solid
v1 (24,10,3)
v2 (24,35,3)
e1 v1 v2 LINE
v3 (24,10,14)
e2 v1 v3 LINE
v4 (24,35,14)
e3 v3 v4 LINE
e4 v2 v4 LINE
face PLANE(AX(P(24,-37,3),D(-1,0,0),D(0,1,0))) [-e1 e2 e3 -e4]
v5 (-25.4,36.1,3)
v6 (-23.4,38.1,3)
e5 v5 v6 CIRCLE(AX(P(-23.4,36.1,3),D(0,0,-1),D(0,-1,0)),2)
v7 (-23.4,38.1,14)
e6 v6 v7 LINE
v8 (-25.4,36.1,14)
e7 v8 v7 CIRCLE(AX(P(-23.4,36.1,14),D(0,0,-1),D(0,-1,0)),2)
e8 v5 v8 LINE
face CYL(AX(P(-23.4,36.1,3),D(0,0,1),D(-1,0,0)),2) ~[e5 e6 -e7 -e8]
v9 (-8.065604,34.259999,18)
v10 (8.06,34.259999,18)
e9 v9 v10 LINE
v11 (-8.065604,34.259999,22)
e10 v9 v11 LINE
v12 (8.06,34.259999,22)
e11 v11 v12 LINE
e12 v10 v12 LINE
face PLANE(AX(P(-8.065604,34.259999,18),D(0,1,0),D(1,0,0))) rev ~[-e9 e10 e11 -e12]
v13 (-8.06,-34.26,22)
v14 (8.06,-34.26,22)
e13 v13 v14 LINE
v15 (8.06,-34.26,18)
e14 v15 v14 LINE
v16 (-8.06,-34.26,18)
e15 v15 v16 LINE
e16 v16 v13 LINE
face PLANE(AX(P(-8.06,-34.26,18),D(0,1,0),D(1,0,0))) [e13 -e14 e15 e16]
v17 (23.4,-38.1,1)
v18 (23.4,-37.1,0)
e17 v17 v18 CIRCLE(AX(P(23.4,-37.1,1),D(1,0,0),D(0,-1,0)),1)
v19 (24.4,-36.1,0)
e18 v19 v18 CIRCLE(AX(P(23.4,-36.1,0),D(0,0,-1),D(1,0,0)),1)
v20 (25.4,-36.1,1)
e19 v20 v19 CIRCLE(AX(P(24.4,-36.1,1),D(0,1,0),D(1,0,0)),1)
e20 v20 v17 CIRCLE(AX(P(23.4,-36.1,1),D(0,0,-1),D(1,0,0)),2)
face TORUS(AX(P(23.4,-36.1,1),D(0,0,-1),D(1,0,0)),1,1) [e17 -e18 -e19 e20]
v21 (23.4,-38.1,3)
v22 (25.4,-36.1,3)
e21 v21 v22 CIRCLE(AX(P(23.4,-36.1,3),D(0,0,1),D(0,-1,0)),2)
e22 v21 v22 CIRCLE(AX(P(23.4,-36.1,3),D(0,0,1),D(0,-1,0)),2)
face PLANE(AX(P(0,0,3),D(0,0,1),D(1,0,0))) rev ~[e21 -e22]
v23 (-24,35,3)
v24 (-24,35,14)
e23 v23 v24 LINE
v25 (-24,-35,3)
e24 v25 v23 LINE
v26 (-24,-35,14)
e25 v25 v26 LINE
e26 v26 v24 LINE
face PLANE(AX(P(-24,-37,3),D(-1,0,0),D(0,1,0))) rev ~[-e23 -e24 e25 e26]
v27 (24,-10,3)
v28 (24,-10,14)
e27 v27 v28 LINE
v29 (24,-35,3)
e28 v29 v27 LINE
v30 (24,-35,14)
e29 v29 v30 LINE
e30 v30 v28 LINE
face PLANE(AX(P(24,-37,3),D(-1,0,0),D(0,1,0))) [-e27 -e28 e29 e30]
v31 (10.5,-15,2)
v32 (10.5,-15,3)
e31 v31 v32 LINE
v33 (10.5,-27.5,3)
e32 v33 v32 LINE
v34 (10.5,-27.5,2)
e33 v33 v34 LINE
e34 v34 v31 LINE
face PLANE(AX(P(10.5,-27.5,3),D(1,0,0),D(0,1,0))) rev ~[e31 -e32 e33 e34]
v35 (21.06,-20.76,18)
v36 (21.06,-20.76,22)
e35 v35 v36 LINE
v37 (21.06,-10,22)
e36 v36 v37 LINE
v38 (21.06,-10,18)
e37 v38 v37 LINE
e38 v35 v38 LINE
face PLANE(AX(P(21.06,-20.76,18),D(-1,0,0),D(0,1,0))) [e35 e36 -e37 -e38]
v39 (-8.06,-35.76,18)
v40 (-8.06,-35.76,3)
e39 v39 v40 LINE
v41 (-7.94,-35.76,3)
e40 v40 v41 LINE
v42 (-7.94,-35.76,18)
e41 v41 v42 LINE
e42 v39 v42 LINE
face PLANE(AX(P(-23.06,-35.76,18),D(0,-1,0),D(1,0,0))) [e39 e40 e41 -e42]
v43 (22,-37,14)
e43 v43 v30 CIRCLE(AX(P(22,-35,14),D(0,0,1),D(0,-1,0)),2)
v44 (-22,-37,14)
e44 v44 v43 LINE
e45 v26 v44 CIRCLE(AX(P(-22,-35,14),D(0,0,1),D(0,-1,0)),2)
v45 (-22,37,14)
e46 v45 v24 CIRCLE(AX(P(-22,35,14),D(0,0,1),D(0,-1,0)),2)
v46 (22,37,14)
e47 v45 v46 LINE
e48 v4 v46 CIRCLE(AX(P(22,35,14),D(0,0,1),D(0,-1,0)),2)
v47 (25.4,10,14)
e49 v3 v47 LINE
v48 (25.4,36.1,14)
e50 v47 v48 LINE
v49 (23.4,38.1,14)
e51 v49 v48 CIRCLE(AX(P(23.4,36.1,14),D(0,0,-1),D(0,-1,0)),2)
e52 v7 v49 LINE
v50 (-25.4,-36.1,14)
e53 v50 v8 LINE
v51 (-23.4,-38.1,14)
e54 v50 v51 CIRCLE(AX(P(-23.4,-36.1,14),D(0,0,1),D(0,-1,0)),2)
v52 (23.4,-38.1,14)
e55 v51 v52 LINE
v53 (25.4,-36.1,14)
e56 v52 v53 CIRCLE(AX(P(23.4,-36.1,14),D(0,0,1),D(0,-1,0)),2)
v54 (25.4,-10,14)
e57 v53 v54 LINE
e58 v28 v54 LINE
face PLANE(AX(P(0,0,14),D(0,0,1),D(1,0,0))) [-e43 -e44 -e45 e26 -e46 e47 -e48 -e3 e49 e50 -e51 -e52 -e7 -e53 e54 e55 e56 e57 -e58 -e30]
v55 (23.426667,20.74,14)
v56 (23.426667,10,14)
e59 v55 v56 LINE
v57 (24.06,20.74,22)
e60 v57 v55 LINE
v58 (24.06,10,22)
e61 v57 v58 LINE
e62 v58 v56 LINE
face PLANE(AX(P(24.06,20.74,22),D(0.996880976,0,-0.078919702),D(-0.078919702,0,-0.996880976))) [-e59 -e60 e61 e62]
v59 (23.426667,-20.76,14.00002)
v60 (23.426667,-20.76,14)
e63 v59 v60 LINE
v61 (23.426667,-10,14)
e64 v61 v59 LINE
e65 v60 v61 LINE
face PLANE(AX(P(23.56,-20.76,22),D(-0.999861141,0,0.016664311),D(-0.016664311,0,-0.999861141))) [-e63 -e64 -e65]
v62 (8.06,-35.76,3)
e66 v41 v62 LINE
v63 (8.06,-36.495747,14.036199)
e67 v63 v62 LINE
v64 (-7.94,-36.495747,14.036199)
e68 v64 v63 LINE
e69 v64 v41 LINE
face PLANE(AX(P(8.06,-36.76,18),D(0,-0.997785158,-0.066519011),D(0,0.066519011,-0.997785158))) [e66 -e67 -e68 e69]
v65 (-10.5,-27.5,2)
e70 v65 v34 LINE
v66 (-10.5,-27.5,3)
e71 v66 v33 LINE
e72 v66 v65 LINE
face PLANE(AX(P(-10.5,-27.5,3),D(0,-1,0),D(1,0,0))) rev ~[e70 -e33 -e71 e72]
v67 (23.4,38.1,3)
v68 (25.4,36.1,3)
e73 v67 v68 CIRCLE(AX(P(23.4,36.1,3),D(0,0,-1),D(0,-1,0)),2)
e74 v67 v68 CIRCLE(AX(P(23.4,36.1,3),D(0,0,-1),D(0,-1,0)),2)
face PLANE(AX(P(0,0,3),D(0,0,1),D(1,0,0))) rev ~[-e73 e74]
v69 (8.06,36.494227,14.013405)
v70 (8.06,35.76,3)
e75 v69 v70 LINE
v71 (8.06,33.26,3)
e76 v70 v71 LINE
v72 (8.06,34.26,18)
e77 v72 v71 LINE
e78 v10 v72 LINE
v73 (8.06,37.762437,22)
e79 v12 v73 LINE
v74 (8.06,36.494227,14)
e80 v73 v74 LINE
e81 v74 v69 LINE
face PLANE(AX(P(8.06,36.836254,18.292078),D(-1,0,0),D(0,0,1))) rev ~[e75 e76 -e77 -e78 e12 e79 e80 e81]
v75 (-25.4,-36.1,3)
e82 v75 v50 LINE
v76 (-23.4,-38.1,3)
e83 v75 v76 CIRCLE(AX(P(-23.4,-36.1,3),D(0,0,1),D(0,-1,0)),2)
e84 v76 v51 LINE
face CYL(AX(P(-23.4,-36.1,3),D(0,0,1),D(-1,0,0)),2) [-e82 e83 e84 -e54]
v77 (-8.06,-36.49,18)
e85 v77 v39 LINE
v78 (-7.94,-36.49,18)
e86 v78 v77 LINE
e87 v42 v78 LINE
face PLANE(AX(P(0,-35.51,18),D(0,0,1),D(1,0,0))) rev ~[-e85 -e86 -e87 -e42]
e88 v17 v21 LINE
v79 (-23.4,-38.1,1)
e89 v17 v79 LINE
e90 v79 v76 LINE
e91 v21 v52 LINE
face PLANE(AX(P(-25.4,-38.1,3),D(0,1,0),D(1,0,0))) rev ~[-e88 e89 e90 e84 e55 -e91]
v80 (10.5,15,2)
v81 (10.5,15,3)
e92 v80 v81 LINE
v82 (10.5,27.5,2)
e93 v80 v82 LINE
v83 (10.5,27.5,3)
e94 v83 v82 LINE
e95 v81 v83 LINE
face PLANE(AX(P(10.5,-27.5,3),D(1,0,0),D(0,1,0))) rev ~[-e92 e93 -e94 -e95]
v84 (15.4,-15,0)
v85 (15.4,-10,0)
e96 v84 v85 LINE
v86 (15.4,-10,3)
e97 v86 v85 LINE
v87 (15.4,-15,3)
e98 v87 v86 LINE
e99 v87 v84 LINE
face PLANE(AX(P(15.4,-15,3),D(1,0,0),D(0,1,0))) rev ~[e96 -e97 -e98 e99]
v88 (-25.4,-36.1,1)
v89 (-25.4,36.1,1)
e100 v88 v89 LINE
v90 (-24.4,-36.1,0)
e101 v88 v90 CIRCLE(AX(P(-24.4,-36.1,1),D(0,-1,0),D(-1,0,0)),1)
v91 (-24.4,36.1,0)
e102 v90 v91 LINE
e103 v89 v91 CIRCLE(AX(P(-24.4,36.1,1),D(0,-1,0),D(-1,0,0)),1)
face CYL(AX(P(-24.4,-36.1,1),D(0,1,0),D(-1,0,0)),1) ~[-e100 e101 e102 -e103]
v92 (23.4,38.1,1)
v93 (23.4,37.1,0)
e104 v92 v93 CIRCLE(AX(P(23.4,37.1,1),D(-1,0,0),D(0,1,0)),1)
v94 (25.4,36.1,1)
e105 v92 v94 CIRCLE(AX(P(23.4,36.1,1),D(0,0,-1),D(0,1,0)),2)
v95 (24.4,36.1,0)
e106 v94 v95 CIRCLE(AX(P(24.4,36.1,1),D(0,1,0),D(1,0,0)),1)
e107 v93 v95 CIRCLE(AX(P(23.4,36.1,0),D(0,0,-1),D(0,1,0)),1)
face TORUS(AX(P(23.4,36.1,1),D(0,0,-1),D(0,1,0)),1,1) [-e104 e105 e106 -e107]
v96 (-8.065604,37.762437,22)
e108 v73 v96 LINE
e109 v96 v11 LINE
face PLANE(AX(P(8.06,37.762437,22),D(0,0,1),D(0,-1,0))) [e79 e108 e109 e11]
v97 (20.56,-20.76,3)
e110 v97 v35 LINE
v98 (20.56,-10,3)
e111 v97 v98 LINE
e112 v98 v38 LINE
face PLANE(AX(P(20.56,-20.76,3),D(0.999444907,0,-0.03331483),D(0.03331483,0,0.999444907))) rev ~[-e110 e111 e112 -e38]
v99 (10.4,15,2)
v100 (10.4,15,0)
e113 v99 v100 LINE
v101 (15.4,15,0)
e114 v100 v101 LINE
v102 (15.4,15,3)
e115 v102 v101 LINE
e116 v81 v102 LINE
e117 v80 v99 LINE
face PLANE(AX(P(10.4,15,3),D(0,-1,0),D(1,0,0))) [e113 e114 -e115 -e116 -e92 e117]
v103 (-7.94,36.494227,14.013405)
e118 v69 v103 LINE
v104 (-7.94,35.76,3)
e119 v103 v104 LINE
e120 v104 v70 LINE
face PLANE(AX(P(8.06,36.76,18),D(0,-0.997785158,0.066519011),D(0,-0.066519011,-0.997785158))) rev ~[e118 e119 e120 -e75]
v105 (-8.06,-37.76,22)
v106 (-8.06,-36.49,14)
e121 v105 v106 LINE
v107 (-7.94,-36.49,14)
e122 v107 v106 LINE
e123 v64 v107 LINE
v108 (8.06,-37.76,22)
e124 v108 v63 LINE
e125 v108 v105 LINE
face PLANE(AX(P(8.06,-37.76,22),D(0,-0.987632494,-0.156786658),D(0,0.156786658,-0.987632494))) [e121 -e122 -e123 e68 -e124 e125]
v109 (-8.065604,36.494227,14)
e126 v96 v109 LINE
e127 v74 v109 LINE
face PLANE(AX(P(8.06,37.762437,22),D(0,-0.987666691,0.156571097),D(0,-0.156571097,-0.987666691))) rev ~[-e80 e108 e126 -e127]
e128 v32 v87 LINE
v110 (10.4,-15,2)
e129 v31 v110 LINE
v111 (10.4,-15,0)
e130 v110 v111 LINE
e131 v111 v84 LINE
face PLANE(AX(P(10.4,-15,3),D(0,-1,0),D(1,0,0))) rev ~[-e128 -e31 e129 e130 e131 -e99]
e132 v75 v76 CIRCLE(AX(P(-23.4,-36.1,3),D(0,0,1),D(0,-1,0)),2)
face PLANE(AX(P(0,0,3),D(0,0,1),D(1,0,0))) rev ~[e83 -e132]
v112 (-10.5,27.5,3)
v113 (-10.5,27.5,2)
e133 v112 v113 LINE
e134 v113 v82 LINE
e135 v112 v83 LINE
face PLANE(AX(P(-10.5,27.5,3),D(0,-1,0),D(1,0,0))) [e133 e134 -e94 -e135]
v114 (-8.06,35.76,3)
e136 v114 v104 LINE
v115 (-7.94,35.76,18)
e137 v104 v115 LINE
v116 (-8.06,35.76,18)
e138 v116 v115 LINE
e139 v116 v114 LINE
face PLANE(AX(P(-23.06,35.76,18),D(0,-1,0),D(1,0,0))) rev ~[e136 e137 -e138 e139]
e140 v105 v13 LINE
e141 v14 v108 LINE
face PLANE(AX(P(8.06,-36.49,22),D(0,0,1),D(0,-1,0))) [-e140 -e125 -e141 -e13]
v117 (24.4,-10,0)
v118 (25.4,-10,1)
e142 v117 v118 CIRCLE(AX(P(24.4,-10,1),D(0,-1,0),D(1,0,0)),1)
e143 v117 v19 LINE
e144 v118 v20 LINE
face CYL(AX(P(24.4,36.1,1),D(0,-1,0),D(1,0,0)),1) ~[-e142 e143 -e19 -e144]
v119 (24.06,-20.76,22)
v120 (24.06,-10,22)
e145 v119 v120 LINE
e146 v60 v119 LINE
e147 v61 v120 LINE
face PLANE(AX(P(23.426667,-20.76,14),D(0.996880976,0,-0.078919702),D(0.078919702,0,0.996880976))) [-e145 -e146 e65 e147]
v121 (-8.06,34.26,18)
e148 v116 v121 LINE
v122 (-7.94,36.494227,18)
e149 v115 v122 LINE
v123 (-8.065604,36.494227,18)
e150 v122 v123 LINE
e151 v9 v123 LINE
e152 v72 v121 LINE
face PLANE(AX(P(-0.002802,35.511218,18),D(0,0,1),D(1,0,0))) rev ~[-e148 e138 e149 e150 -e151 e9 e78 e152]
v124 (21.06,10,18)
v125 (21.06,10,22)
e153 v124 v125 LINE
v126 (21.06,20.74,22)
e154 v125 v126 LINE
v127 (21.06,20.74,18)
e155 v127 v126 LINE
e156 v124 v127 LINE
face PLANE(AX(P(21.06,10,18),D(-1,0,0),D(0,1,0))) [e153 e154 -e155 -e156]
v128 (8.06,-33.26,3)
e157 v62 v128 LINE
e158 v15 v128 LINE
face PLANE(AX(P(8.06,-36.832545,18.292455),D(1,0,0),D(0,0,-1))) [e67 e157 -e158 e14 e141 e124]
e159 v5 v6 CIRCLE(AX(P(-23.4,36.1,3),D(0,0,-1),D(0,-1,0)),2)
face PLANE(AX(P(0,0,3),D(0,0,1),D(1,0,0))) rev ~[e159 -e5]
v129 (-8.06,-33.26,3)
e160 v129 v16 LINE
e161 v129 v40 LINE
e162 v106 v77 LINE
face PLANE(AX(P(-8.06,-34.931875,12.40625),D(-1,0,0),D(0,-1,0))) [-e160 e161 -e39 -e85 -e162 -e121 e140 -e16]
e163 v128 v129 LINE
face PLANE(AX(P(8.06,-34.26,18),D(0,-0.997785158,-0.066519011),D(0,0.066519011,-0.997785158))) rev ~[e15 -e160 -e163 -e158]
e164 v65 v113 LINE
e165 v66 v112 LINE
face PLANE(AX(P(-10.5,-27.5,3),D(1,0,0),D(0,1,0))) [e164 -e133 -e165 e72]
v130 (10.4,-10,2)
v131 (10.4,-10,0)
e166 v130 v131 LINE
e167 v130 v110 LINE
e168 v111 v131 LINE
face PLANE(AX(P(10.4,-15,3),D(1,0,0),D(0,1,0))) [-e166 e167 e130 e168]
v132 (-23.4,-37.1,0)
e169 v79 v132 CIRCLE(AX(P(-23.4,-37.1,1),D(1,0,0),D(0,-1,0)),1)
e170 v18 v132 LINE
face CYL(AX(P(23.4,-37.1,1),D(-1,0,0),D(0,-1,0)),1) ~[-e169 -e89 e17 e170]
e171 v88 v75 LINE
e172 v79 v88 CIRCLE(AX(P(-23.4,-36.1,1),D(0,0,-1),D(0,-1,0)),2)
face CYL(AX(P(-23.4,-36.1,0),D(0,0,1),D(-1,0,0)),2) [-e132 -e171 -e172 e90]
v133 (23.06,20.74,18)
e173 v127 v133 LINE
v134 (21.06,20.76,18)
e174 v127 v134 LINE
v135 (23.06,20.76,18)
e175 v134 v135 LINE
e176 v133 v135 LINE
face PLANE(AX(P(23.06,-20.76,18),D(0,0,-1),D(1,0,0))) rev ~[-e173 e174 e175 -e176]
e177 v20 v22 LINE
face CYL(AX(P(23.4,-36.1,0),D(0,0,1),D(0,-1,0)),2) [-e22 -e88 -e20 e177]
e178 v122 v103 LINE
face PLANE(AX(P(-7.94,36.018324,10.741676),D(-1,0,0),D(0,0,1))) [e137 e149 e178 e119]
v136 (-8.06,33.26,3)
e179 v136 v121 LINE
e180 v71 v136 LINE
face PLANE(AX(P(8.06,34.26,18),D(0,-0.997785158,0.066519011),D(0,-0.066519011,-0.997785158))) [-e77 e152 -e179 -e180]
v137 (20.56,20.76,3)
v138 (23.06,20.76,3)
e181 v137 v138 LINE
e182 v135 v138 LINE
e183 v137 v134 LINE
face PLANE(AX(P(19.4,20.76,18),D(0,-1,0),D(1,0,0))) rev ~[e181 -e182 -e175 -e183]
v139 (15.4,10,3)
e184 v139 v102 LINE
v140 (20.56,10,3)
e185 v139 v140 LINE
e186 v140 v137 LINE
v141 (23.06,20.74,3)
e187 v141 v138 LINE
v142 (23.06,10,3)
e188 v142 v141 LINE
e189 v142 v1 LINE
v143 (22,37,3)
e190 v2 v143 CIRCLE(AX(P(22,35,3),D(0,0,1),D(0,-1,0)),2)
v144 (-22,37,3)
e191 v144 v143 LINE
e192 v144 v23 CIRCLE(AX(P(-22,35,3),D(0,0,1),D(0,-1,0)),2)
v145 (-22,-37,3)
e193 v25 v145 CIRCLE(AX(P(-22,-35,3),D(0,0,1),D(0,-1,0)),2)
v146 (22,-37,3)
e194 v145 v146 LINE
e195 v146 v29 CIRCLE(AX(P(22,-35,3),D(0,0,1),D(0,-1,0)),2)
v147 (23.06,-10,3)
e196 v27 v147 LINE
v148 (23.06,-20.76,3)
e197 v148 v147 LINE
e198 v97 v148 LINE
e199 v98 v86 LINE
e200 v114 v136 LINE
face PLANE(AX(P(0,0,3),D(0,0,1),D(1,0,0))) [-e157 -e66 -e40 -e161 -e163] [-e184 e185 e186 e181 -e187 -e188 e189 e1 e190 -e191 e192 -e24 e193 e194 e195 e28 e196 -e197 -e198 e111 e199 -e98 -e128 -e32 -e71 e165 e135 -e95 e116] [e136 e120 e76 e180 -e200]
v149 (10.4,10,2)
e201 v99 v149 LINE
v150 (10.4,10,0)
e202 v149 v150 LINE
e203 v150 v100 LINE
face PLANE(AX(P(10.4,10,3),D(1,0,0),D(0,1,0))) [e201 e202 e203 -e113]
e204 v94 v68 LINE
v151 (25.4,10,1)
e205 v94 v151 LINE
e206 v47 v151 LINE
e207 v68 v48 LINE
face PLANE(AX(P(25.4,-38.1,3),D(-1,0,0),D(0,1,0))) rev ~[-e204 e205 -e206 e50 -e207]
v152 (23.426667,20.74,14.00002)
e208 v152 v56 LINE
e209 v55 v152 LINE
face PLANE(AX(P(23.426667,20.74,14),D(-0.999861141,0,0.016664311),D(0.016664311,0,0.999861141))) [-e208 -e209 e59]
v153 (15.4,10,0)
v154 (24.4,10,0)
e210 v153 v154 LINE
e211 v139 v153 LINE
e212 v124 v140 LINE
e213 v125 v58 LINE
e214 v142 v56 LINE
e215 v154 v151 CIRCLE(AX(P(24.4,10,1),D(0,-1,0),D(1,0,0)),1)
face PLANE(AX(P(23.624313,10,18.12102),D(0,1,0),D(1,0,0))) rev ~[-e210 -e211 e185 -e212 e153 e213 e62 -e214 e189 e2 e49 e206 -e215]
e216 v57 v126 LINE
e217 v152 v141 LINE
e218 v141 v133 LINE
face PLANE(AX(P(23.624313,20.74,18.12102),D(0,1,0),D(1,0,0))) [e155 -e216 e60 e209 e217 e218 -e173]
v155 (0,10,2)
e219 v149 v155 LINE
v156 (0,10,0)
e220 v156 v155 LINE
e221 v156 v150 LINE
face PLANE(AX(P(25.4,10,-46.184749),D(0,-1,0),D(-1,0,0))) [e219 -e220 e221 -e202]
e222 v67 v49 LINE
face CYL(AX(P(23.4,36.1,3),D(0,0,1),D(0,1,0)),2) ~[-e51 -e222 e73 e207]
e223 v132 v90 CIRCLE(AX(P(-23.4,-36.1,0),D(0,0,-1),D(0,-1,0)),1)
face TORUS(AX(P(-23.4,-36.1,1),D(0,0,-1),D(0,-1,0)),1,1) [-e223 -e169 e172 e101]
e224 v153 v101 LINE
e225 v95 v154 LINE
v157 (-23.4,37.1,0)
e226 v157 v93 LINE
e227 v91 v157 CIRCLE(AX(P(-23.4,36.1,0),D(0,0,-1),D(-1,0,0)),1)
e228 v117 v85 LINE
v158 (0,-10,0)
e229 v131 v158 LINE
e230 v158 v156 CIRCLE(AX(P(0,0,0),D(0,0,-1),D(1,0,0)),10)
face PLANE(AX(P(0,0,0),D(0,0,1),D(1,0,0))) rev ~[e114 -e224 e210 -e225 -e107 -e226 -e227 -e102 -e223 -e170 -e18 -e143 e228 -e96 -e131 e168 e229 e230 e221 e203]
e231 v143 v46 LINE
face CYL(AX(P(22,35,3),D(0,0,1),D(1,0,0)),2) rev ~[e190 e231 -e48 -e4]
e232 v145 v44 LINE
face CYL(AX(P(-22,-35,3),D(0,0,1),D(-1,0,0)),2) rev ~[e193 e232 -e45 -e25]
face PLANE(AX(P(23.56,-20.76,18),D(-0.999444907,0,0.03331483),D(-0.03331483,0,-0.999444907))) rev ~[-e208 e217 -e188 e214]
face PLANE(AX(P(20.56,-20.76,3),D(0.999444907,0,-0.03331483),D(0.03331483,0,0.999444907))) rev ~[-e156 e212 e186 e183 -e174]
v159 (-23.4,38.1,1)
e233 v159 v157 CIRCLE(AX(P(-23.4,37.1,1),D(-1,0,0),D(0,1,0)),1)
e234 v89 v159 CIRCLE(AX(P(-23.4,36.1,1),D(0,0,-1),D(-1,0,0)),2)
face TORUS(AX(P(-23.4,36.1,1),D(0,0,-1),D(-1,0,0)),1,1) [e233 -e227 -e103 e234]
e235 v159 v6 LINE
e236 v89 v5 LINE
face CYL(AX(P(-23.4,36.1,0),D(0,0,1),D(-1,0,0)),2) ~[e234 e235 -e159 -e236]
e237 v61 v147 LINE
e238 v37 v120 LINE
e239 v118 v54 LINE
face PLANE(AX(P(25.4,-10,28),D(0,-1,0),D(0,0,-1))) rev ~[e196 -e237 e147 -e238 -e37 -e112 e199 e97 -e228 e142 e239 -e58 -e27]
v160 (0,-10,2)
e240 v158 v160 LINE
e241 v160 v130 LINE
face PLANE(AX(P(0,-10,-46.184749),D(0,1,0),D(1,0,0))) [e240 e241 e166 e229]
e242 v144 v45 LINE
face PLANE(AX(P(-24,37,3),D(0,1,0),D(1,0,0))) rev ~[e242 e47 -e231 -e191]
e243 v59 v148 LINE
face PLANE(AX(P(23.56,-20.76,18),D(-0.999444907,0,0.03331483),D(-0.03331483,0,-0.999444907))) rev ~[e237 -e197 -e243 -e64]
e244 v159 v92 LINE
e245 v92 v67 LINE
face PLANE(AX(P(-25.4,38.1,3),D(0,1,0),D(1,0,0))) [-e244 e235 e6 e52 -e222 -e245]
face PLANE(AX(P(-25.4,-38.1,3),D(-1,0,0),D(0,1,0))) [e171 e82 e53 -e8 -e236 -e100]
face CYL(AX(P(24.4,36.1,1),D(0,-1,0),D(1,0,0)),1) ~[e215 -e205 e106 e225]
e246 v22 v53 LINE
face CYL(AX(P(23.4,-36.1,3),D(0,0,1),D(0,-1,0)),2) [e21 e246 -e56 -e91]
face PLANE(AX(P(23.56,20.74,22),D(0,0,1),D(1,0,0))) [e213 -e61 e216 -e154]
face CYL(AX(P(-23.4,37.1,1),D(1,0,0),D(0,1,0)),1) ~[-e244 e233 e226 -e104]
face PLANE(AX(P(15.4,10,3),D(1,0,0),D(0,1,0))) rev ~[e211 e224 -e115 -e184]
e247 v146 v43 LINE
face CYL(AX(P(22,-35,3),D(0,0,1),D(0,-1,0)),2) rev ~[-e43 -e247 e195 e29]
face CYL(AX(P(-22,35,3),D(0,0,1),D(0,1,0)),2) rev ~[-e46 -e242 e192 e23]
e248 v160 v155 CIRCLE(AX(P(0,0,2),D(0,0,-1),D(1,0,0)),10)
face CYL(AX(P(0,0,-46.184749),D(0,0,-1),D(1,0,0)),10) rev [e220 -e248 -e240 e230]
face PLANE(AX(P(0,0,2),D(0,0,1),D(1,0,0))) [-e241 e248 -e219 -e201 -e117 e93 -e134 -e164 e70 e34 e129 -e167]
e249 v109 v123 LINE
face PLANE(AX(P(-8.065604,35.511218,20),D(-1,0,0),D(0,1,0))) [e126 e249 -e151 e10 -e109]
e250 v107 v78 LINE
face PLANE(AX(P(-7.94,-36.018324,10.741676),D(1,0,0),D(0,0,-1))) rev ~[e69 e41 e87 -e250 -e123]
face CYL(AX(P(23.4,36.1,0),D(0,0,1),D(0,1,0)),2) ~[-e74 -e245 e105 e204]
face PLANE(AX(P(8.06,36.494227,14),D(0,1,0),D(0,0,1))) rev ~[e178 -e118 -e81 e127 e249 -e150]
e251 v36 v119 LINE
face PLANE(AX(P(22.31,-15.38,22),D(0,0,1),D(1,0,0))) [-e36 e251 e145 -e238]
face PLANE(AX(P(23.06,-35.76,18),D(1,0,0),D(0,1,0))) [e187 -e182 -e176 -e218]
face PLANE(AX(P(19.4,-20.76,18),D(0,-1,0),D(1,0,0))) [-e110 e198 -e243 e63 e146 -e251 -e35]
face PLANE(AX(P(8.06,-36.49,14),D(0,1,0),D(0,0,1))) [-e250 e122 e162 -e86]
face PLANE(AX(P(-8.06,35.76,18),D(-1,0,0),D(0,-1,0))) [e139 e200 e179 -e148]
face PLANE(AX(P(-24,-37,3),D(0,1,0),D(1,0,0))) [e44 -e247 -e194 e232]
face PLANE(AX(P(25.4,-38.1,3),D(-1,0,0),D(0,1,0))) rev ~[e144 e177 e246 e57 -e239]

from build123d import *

# Parameters (mm, degrees)
CROQUIS1_W                  = 50.8
CROQUIS1_H                  = 76.2
SALIENTE_EXTRUIR1_DEPTH     = 18
CROQUIS2_W                  = 50.8
CROQUIS2_H                  = 76.2
CROQUIS2_W_2                = 46.12
CROQUIS2_H_2                = 71.52
CROQUIS2_W_3                = 38.8
CROQUIS2_H_3                = 64.2
CORTAR_EXTRUIR1_DEPTH       = 15
CORTAR_EXTRUIR8_DEPTH       = 15
SALIENTE_EXTRUIR3_DEPTH     = 41.5
CORTAR_EXTRUIR9_DEPTH       = 51.5
CORTAR_EXTRUIR10_DEPTH      = 51.5
SALIENTE_EXTRUIR4_DEPTH     = 16
CORTAR_EXTRUIR11_DEPTH      = 16.5
REDONDEO3_R                 = 2
REDONDEO4_R                 = 1
CROQUIS15_W                 = 47.12
CROQUIS15_H                 = 10
CORTAR_EXTRUIR12_DEPTH      = 15
CORTAR_EXTRUIR16_DEPTH      = 49.184749
CORTAR_EXTRUIR16_DEPTH_BACK = 49.184749
CROQUIS18_R                 = 10
CROQUIS18_W                 = 2.5
CROQUIS18_H                 = 4.99
CROQUIS18_H_2               = 5.01
CROQUIS19_W                 = 5
CROQUIS19_H                 = 5
CORTAR_EXTRUIR17_DEPTH      = 49.184749
CROQUIS20_W                 = 50.8
CROQUIS20_H                 = 76.2
CROQUIS20_W_2               = 48
CROQUIS20_H_2               = 74
SALIENTE_EXTRUIR5_DEPTH     = 11
CROQUIS21_W                 = 25
CROQUIS21_H                 = 20
CORTAR_EXTRUIR18_DEPTH      = 10
CROQUIS22_W                 = 21
CROQUIS22_H                 = 55
CORTAR_EXTRUIR19_DEPTH      = 1
REDONDEO5_R                 = 2
CROQUIS23_W                 = 2.5
CROQUIS23_H                 = 15.754868
CROQUIS23_H_2               = 15.75
CROQUIS23_H_3               = 10.74
CROQUIS23_W_2               = 16.125604
CROQUIS23_H_4               = 2.502437
CROQUIS23_W_3               = 16.12
CROQUIS23_H_5               = 2.5
CROQUIS23_H_6               = 10.76
SALIENTE_EXTRUIR6_DEPTH     = 4
CROQUIS24_W                 = 3
CROQUIS24_H                 = 15.77
CROQUIS24_H_2               = 15.75
CORTAR_EXTRUIR20_DEPTH      = 19
SALIENTE_EXTRUIR7_DEPTH     = 10.74
SALIENTE_EXTRUIR8_DEPTH     = 10.76
SALIENTE_EXTRUIR9_REACH     = 57.274
SALIENTE_EXTRUIR10_REACH    = 57.274


with BuildPart() as part:
    # Croquis1 → Saliente-Extruir1 (new body)
    with BuildSketch(Plane.XY):
        Rectangle(CROQUIS1_W, CROQUIS1_H)
    extrude(amount=SALIENTE_EXTRUIR1_DEPTH)

    # Croquis2 → Cortar-Extruir1 (cut)
    # profile 1 of 2: a face of its own
    with BuildSketch(Plane.XY.offset(18)):
        Rectangle(CROQUIS2_W, CROQUIS2_H)
        Rectangle(CROQUIS2_W_2, CROQUIS2_H_2, mode=Mode.SUBTRACT)
    # profile 2 of 2: a face of its own
    with BuildSketch(Plane.XY.offset(18)):
        Rectangle(CROQUIS2_W_3, CROQUIS2_H_3)
    extrude(amount=-CORTAR_EXTRUIR1_DEPTH, mode=Mode.SUBTRACT)

    # Croquis6 → Cortar-Extruir8 (cut)
    with BuildSketch(Plane.XY.offset(18)):
        Polygon((-23.06, 35.76), (-8.06, 35.76), (-8.06, 32.1), (-19.4, 32.1), (-19.4, 20.76), (-23.06, 20.76), align=None)
        Polygon((23.06, 35.76), (8.06, 35.76), (8.06, 32.1), (19.4, 32.1), (19.4, 20.76), (23.06, 20.76), align=None)
        Polygon((-23.06, -35.76), (-23.06, -20.76), (-19.4, -20.76), (-19.4, -32.1), (-8.06, -32.1), (-8.06, -35.76), align=None)
        Polygon((23.06, -35.76), (8.06, -35.76), (8.06, -32.1), (19.4, -32.1), (19.4, -20.76), (23.06, -20.76), align=None)
    extrude(amount=-CORTAR_EXTRUIR8_DEPTH, mode=Mode.SUBTRACT)

    # Croquis10 → Saliente-Extruir3 (add)
    with BuildSketch(Plane(origin=(0, -20.76, 0), x_dir=(-1, 0, 0), z_dir=(0, -1, 0))):
        Polygon((23.06, -18), (23.56, -18), (23.06, -3), align=None)
        Polygon((-23.06, -18), (-23.56, -18), (-23.06, -3), align=None)
    extrude(amount=-SALIENTE_EXTRUIR3_DEPTH)

    # Croquis11 → Cortar-Extruir9 (cut)
    with BuildSketch(Plane.XZ.offset(20.76)):
        Polygon((-19.4, 18), (-21.06, 18), (-20.56, 3), (-19.4, 3), align=None)
    extrude(amount=-CORTAR_EXTRUIR9_DEPTH, mode=Mode.SUBTRACT)

    # Croquis12 → Cortar-Extruir10 (cut)
    with BuildSketch(Plane.XZ.offset(20.76)):
        Polygon((19.4, 18), (19.4, 3), (20.56, 3), (21.06, 18), align=None)
    extrude(amount=-CORTAR_EXTRUIR10_DEPTH, mode=Mode.SUBTRACT)

    # Croquis13 → Saliente-Extruir4 (add)
    with BuildSketch(Plane(origin=(8.06, 0, 0), x_dir=(0, 0, -1), z_dir=(1, 0, 0))):
        Polygon((-18, -35.76), (-18, -36.76), (-3, -35.76), align=None)
        Polygon((-18, 35.76), (-18, 36.76), (-3, 35.76), align=None)
    extrude(amount=-SALIENTE_EXTRUIR4_DEPTH)

    # Croquis14 → Cortar-Extruir11 (cut)
    with BuildSketch(Plane(origin=(8.06, 0, 0), x_dir=(0, 0, -1), z_dir=(1, 0, 0))):
        Polygon((-3, -32.1), (-18, -32.1), (-18, -34.26), (-3, -33.26), align=None)
        Polygon((-18, 32.1), (-18, 34.26), (-3, 33.26), (-3, 32.1), align=None)
    extrude(amount=-CORTAR_EXTRUIR11_DEPTH, mode=Mode.SUBTRACT)

    # Redondeo3
    redondeo3_edges = [part.edges().sort_by_distance(p)[0] for p in [
        (-25.4, 38.1, 1.5),
        (25.4, 38.1, 1.5),
        (25.4, -38.1, 1.5),
        (-25.4, -38.1, 1.5),
    ]]
    fillet(redondeo3_edges, radius=REDONDEO3_R)

    # Redondeo4
    redondeo4_edges = [part.edges().sort_by_distance(p)[0] for p in [
        (0, 38.1, 0),
        (-25.4, 0, 0),
        (25.4, 0, 0),
        (0, -38.1, 0),
        (24.814214, -37.514214, 0),
        (-24.814214, -37.514214, 0),
        (-24.814214, 37.514214, 0),
        (24.814214, 37.514214, 0),
    ]]
    fillet(redondeo4_edges, radius=REDONDEO4_R)

    # Croquis15 → Cortar-Extruir12 (cut)
    with BuildSketch(Plane.XY.offset(18)):
        with Locations((0, -0.01)):
            Rectangle(CROQUIS15_W, CROQUIS15_H)
    extrude(amount=-CORTAR_EXTRUIR12_DEPTH, mode=Mode.SUBTRACT)

    # Croquis18 → Cortar-Extruir16 (cut, two sides: drawn at the far end of the back side and taken through both)
    with BuildSketch(Plane.XY.offset(3).offset(-CORTAR_EXTRUIR16_DEPTH_BACK)):
        Circle(CROQUIS18_R)
        with Locations((21.81, -7.505)):
            Rectangle(CROQUIS18_W, CROQUIS18_H)
        with Locations((21.81, 7.495)):
            Rectangle(CROQUIS18_W, CROQUIS18_H_2)
        with BuildLine():
            Line((20.56, 10), (0, 10))
            ThreePointArc((0, 10), (7.071068, 7.071068), (10, 0))
            ThreePointArc((10, 0), (7.071068, -7.071068), (0, -10))
            Line((0, -10), (20.56, -10))
            Line((20.56, -10), (20.56, -5.01))
            Line((20.56, -5.01), (23.06, -5.01))
            Line((23.06, -5.01), (23.06, -10))
            Line((23.06, -10), (25.4, -10))
            Line((25.4, -10), (25.4, 10))
            Line((25.4, 10), (23.06, 10))
            Line((23.06, 10), (23.06, 4.99))
            Line((23.06, 4.99), (20.56, 4.99))
            Line((20.56, 4.99), (20.56, 10))
        make_face()
    extrude(amount=CORTAR_EXTRUIR16_DEPTH + CORTAR_EXTRUIR16_DEPTH_BACK, mode=Mode.SUBTRACT)

    # Croquis19 → Cortar-Extruir17 (cut, through all)
    with BuildSketch(Plane.XY.offset(3)):
        with Locations((12.9, 12.5)):
            Rectangle(CROQUIS19_W, CROQUIS19_H)
        with Locations((12.9, -12.5)):
            Rectangle(CROQUIS19_W, CROQUIS19_H)
    extrude(amount=-CORTAR_EXTRUIR17_DEPTH, mode=Mode.SUBTRACT)

    # Croquis20 → Saliente-Extruir5 (add)
    with BuildSketch(Plane.XY.offset(3)):
        Rectangle(CROQUIS20_W, CROQUIS20_H)
        Rectangle(CROQUIS20_W_2, CROQUIS20_H_2, mode=Mode.SUBTRACT)
    extrude(amount=SALIENTE_EXTRUIR5_DEPTH)

    # Croquis21 → Cortar-Extruir18 (cut)
    with BuildSketch(Plane(origin=(25.4, 0, 0), x_dir=(0, 0, -1), z_dir=(1, 0, 0))):
        with Locations((-15.5, 0)):
            Rectangle(CROQUIS21_W, CROQUIS21_H)
    extrude(amount=-CORTAR_EXTRUIR18_DEPTH, mode=Mode.SUBTRACT)

    # Croquis22 → Cortar-Extruir19 (cut)
    with BuildSketch(Plane.XY.offset(3)):
        Rectangle(CROQUIS22_W, CROQUIS22_H)
    extrude(amount=-CORTAR_EXTRUIR19_DEPTH, mode=Mode.SUBTRACT)

    # Redondeo5
    redondeo5_edges = [part.edges().sort_by_distance(p)[0] for p in [
        (25.4, -38.1, 8.5),
        (-25.4, -38.1, 8.5),
        (-25.4, 38.1, 8.5),
        (25.4, 38.1, 8.5),
        (-24, 37, 8.5),
        (-24, -37, 8.5),
        (24, -37, 8.5),
        (24, 37, 8.5),
    ]]
    fillet(redondeo5_edges, radius=REDONDEO5_R)

    # Croquis23 → Saliente-Extruir6 (add)
    with BuildSketch(Plane.XY.offset(18)):
        with Locations((-22.31, 12.882566)):
            Rectangle(CROQUIS23_W, CROQUIS23_H)
        with Locations((-22.31, -12.885)):
            Rectangle(CROQUIS23_W, CROQUIS23_H_2)
        with Locations((22.31, 15.37)):
            Rectangle(CROQUIS23_W, CROQUIS23_H_3)
        with Locations((-0.002802, 35.511218)):
            Rectangle(CROQUIS23_W_2, CROQUIS23_H_4)
        with Locations((0, -35.51)):
            Rectangle(CROQUIS23_W_3, CROQUIS23_H_5)
        with Locations((22.31, -15.38)):
            Rectangle(CROQUIS23_W, CROQUIS23_H_6)
    extrude(amount=SALIENTE_EXTRUIR6_DEPTH)

    # Croquis24 → Cortar-Extruir20 (cut)
    with BuildSketch(Plane.XY.offset(22)):
        with Locations((-22.06, 12.875)):
            Rectangle(CROQUIS24_W, CROQUIS24_H)
        with Locations((-22.06, -12.885)):
            Rectangle(CROQUIS24_W, CROQUIS24_H_2)
    extrude(amount=-CORTAR_EXTRUIR20_DEPTH, mode=Mode.SUBTRACT)

    # Croquis25 → Saliente-Extruir7 (add)
    with BuildSketch(Plane(origin=(0, 20.74, 0), x_dir=(1, 0, 0), z_dir=(0, 1, 0))):
        Polygon((23.56, -22), (24.06, -22), (23.426667, -14), align=None)
    extrude(amount=-SALIENTE_EXTRUIR7_DEPTH)

    # Croquis26 → Saliente-Extruir8 (add)
    with BuildSketch(Plane.XZ.offset(20.76)):
        Polygon((23.56, 22), (23.426667, 14), (24.06, 22), align=None)
    extrude(amount=-SALIENTE_EXTRUIR8_DEPTH)

    # Saliente-Extruir9: up to this face of the body (flat: up to its plane)
    saliente_extruir9_end = Plane(part.part.faces().sort_by_distance((-8.065604, 35.511219, 20))[0])
    # Croquis27 → Saliente-Extruir9 (add, up to the picked face)
    with BuildSketch(Plane(origin=(8.06, 0, 0), x_dir=(0, 0, -1), z_dir=(1, 0, 0)), mode=Mode.PRIVATE) as saliente_extruir9_sk1:
        Polygon((-22, 36.762437), (-22, 37.762437), (-14, 36.494227), (-22, 36.494227), align=None)
    saliente_extruir9_tool1 = split(extrude(saliente_extruir9_sk1.sketch, amount=-SALIENTE_EXTRUIR9_REACH, mode=Mode.PRIVATE), bisect_by=saliente_extruir9_end, keep=Keep.BOTH, mode=Mode.PRIVATE)
    add(saliente_extruir9_tool1.solids().sort_by(Axis((8.06, 36.916964, 19.333333), (-1, 0, 0)))[0])

    # Saliente-Extruir10: up to this face of the body (flat: up to its plane)
    saliente_extruir10_end = Plane(part.part.faces().sort_by_distance((-8.06, -34.931875, 12.40625))[0])
    # Croquis28 → Saliente-Extruir10 (add, up to the picked face)
    with BuildSketch(Plane(origin=(8.06, 0, 0), x_dir=(0, 0, -1), z_dir=(1, 0, 0)), mode=Mode.PRIVATE) as saliente_extruir10_sk1:
        Polygon((-22, -36.76), (-22, -37.76), (-14, -36.49), (-22, -36.49), align=None)
    saliente_extruir10_tool1 = split(extrude(saliente_extruir10_sk1.sketch, amount=-SALIENTE_EXTRUIR10_REACH, mode=Mode.PRIVATE), bisect_by=saliente_extruir10_end, keep=Keep.BOTH, mode=Mode.PRIVATE)
    add(saliente_extruir10_tool1.solids().sort_by(Axis((8.06, -36.913333, 19.333333), (-1, 0, 0)))[0])


solid = part.part
